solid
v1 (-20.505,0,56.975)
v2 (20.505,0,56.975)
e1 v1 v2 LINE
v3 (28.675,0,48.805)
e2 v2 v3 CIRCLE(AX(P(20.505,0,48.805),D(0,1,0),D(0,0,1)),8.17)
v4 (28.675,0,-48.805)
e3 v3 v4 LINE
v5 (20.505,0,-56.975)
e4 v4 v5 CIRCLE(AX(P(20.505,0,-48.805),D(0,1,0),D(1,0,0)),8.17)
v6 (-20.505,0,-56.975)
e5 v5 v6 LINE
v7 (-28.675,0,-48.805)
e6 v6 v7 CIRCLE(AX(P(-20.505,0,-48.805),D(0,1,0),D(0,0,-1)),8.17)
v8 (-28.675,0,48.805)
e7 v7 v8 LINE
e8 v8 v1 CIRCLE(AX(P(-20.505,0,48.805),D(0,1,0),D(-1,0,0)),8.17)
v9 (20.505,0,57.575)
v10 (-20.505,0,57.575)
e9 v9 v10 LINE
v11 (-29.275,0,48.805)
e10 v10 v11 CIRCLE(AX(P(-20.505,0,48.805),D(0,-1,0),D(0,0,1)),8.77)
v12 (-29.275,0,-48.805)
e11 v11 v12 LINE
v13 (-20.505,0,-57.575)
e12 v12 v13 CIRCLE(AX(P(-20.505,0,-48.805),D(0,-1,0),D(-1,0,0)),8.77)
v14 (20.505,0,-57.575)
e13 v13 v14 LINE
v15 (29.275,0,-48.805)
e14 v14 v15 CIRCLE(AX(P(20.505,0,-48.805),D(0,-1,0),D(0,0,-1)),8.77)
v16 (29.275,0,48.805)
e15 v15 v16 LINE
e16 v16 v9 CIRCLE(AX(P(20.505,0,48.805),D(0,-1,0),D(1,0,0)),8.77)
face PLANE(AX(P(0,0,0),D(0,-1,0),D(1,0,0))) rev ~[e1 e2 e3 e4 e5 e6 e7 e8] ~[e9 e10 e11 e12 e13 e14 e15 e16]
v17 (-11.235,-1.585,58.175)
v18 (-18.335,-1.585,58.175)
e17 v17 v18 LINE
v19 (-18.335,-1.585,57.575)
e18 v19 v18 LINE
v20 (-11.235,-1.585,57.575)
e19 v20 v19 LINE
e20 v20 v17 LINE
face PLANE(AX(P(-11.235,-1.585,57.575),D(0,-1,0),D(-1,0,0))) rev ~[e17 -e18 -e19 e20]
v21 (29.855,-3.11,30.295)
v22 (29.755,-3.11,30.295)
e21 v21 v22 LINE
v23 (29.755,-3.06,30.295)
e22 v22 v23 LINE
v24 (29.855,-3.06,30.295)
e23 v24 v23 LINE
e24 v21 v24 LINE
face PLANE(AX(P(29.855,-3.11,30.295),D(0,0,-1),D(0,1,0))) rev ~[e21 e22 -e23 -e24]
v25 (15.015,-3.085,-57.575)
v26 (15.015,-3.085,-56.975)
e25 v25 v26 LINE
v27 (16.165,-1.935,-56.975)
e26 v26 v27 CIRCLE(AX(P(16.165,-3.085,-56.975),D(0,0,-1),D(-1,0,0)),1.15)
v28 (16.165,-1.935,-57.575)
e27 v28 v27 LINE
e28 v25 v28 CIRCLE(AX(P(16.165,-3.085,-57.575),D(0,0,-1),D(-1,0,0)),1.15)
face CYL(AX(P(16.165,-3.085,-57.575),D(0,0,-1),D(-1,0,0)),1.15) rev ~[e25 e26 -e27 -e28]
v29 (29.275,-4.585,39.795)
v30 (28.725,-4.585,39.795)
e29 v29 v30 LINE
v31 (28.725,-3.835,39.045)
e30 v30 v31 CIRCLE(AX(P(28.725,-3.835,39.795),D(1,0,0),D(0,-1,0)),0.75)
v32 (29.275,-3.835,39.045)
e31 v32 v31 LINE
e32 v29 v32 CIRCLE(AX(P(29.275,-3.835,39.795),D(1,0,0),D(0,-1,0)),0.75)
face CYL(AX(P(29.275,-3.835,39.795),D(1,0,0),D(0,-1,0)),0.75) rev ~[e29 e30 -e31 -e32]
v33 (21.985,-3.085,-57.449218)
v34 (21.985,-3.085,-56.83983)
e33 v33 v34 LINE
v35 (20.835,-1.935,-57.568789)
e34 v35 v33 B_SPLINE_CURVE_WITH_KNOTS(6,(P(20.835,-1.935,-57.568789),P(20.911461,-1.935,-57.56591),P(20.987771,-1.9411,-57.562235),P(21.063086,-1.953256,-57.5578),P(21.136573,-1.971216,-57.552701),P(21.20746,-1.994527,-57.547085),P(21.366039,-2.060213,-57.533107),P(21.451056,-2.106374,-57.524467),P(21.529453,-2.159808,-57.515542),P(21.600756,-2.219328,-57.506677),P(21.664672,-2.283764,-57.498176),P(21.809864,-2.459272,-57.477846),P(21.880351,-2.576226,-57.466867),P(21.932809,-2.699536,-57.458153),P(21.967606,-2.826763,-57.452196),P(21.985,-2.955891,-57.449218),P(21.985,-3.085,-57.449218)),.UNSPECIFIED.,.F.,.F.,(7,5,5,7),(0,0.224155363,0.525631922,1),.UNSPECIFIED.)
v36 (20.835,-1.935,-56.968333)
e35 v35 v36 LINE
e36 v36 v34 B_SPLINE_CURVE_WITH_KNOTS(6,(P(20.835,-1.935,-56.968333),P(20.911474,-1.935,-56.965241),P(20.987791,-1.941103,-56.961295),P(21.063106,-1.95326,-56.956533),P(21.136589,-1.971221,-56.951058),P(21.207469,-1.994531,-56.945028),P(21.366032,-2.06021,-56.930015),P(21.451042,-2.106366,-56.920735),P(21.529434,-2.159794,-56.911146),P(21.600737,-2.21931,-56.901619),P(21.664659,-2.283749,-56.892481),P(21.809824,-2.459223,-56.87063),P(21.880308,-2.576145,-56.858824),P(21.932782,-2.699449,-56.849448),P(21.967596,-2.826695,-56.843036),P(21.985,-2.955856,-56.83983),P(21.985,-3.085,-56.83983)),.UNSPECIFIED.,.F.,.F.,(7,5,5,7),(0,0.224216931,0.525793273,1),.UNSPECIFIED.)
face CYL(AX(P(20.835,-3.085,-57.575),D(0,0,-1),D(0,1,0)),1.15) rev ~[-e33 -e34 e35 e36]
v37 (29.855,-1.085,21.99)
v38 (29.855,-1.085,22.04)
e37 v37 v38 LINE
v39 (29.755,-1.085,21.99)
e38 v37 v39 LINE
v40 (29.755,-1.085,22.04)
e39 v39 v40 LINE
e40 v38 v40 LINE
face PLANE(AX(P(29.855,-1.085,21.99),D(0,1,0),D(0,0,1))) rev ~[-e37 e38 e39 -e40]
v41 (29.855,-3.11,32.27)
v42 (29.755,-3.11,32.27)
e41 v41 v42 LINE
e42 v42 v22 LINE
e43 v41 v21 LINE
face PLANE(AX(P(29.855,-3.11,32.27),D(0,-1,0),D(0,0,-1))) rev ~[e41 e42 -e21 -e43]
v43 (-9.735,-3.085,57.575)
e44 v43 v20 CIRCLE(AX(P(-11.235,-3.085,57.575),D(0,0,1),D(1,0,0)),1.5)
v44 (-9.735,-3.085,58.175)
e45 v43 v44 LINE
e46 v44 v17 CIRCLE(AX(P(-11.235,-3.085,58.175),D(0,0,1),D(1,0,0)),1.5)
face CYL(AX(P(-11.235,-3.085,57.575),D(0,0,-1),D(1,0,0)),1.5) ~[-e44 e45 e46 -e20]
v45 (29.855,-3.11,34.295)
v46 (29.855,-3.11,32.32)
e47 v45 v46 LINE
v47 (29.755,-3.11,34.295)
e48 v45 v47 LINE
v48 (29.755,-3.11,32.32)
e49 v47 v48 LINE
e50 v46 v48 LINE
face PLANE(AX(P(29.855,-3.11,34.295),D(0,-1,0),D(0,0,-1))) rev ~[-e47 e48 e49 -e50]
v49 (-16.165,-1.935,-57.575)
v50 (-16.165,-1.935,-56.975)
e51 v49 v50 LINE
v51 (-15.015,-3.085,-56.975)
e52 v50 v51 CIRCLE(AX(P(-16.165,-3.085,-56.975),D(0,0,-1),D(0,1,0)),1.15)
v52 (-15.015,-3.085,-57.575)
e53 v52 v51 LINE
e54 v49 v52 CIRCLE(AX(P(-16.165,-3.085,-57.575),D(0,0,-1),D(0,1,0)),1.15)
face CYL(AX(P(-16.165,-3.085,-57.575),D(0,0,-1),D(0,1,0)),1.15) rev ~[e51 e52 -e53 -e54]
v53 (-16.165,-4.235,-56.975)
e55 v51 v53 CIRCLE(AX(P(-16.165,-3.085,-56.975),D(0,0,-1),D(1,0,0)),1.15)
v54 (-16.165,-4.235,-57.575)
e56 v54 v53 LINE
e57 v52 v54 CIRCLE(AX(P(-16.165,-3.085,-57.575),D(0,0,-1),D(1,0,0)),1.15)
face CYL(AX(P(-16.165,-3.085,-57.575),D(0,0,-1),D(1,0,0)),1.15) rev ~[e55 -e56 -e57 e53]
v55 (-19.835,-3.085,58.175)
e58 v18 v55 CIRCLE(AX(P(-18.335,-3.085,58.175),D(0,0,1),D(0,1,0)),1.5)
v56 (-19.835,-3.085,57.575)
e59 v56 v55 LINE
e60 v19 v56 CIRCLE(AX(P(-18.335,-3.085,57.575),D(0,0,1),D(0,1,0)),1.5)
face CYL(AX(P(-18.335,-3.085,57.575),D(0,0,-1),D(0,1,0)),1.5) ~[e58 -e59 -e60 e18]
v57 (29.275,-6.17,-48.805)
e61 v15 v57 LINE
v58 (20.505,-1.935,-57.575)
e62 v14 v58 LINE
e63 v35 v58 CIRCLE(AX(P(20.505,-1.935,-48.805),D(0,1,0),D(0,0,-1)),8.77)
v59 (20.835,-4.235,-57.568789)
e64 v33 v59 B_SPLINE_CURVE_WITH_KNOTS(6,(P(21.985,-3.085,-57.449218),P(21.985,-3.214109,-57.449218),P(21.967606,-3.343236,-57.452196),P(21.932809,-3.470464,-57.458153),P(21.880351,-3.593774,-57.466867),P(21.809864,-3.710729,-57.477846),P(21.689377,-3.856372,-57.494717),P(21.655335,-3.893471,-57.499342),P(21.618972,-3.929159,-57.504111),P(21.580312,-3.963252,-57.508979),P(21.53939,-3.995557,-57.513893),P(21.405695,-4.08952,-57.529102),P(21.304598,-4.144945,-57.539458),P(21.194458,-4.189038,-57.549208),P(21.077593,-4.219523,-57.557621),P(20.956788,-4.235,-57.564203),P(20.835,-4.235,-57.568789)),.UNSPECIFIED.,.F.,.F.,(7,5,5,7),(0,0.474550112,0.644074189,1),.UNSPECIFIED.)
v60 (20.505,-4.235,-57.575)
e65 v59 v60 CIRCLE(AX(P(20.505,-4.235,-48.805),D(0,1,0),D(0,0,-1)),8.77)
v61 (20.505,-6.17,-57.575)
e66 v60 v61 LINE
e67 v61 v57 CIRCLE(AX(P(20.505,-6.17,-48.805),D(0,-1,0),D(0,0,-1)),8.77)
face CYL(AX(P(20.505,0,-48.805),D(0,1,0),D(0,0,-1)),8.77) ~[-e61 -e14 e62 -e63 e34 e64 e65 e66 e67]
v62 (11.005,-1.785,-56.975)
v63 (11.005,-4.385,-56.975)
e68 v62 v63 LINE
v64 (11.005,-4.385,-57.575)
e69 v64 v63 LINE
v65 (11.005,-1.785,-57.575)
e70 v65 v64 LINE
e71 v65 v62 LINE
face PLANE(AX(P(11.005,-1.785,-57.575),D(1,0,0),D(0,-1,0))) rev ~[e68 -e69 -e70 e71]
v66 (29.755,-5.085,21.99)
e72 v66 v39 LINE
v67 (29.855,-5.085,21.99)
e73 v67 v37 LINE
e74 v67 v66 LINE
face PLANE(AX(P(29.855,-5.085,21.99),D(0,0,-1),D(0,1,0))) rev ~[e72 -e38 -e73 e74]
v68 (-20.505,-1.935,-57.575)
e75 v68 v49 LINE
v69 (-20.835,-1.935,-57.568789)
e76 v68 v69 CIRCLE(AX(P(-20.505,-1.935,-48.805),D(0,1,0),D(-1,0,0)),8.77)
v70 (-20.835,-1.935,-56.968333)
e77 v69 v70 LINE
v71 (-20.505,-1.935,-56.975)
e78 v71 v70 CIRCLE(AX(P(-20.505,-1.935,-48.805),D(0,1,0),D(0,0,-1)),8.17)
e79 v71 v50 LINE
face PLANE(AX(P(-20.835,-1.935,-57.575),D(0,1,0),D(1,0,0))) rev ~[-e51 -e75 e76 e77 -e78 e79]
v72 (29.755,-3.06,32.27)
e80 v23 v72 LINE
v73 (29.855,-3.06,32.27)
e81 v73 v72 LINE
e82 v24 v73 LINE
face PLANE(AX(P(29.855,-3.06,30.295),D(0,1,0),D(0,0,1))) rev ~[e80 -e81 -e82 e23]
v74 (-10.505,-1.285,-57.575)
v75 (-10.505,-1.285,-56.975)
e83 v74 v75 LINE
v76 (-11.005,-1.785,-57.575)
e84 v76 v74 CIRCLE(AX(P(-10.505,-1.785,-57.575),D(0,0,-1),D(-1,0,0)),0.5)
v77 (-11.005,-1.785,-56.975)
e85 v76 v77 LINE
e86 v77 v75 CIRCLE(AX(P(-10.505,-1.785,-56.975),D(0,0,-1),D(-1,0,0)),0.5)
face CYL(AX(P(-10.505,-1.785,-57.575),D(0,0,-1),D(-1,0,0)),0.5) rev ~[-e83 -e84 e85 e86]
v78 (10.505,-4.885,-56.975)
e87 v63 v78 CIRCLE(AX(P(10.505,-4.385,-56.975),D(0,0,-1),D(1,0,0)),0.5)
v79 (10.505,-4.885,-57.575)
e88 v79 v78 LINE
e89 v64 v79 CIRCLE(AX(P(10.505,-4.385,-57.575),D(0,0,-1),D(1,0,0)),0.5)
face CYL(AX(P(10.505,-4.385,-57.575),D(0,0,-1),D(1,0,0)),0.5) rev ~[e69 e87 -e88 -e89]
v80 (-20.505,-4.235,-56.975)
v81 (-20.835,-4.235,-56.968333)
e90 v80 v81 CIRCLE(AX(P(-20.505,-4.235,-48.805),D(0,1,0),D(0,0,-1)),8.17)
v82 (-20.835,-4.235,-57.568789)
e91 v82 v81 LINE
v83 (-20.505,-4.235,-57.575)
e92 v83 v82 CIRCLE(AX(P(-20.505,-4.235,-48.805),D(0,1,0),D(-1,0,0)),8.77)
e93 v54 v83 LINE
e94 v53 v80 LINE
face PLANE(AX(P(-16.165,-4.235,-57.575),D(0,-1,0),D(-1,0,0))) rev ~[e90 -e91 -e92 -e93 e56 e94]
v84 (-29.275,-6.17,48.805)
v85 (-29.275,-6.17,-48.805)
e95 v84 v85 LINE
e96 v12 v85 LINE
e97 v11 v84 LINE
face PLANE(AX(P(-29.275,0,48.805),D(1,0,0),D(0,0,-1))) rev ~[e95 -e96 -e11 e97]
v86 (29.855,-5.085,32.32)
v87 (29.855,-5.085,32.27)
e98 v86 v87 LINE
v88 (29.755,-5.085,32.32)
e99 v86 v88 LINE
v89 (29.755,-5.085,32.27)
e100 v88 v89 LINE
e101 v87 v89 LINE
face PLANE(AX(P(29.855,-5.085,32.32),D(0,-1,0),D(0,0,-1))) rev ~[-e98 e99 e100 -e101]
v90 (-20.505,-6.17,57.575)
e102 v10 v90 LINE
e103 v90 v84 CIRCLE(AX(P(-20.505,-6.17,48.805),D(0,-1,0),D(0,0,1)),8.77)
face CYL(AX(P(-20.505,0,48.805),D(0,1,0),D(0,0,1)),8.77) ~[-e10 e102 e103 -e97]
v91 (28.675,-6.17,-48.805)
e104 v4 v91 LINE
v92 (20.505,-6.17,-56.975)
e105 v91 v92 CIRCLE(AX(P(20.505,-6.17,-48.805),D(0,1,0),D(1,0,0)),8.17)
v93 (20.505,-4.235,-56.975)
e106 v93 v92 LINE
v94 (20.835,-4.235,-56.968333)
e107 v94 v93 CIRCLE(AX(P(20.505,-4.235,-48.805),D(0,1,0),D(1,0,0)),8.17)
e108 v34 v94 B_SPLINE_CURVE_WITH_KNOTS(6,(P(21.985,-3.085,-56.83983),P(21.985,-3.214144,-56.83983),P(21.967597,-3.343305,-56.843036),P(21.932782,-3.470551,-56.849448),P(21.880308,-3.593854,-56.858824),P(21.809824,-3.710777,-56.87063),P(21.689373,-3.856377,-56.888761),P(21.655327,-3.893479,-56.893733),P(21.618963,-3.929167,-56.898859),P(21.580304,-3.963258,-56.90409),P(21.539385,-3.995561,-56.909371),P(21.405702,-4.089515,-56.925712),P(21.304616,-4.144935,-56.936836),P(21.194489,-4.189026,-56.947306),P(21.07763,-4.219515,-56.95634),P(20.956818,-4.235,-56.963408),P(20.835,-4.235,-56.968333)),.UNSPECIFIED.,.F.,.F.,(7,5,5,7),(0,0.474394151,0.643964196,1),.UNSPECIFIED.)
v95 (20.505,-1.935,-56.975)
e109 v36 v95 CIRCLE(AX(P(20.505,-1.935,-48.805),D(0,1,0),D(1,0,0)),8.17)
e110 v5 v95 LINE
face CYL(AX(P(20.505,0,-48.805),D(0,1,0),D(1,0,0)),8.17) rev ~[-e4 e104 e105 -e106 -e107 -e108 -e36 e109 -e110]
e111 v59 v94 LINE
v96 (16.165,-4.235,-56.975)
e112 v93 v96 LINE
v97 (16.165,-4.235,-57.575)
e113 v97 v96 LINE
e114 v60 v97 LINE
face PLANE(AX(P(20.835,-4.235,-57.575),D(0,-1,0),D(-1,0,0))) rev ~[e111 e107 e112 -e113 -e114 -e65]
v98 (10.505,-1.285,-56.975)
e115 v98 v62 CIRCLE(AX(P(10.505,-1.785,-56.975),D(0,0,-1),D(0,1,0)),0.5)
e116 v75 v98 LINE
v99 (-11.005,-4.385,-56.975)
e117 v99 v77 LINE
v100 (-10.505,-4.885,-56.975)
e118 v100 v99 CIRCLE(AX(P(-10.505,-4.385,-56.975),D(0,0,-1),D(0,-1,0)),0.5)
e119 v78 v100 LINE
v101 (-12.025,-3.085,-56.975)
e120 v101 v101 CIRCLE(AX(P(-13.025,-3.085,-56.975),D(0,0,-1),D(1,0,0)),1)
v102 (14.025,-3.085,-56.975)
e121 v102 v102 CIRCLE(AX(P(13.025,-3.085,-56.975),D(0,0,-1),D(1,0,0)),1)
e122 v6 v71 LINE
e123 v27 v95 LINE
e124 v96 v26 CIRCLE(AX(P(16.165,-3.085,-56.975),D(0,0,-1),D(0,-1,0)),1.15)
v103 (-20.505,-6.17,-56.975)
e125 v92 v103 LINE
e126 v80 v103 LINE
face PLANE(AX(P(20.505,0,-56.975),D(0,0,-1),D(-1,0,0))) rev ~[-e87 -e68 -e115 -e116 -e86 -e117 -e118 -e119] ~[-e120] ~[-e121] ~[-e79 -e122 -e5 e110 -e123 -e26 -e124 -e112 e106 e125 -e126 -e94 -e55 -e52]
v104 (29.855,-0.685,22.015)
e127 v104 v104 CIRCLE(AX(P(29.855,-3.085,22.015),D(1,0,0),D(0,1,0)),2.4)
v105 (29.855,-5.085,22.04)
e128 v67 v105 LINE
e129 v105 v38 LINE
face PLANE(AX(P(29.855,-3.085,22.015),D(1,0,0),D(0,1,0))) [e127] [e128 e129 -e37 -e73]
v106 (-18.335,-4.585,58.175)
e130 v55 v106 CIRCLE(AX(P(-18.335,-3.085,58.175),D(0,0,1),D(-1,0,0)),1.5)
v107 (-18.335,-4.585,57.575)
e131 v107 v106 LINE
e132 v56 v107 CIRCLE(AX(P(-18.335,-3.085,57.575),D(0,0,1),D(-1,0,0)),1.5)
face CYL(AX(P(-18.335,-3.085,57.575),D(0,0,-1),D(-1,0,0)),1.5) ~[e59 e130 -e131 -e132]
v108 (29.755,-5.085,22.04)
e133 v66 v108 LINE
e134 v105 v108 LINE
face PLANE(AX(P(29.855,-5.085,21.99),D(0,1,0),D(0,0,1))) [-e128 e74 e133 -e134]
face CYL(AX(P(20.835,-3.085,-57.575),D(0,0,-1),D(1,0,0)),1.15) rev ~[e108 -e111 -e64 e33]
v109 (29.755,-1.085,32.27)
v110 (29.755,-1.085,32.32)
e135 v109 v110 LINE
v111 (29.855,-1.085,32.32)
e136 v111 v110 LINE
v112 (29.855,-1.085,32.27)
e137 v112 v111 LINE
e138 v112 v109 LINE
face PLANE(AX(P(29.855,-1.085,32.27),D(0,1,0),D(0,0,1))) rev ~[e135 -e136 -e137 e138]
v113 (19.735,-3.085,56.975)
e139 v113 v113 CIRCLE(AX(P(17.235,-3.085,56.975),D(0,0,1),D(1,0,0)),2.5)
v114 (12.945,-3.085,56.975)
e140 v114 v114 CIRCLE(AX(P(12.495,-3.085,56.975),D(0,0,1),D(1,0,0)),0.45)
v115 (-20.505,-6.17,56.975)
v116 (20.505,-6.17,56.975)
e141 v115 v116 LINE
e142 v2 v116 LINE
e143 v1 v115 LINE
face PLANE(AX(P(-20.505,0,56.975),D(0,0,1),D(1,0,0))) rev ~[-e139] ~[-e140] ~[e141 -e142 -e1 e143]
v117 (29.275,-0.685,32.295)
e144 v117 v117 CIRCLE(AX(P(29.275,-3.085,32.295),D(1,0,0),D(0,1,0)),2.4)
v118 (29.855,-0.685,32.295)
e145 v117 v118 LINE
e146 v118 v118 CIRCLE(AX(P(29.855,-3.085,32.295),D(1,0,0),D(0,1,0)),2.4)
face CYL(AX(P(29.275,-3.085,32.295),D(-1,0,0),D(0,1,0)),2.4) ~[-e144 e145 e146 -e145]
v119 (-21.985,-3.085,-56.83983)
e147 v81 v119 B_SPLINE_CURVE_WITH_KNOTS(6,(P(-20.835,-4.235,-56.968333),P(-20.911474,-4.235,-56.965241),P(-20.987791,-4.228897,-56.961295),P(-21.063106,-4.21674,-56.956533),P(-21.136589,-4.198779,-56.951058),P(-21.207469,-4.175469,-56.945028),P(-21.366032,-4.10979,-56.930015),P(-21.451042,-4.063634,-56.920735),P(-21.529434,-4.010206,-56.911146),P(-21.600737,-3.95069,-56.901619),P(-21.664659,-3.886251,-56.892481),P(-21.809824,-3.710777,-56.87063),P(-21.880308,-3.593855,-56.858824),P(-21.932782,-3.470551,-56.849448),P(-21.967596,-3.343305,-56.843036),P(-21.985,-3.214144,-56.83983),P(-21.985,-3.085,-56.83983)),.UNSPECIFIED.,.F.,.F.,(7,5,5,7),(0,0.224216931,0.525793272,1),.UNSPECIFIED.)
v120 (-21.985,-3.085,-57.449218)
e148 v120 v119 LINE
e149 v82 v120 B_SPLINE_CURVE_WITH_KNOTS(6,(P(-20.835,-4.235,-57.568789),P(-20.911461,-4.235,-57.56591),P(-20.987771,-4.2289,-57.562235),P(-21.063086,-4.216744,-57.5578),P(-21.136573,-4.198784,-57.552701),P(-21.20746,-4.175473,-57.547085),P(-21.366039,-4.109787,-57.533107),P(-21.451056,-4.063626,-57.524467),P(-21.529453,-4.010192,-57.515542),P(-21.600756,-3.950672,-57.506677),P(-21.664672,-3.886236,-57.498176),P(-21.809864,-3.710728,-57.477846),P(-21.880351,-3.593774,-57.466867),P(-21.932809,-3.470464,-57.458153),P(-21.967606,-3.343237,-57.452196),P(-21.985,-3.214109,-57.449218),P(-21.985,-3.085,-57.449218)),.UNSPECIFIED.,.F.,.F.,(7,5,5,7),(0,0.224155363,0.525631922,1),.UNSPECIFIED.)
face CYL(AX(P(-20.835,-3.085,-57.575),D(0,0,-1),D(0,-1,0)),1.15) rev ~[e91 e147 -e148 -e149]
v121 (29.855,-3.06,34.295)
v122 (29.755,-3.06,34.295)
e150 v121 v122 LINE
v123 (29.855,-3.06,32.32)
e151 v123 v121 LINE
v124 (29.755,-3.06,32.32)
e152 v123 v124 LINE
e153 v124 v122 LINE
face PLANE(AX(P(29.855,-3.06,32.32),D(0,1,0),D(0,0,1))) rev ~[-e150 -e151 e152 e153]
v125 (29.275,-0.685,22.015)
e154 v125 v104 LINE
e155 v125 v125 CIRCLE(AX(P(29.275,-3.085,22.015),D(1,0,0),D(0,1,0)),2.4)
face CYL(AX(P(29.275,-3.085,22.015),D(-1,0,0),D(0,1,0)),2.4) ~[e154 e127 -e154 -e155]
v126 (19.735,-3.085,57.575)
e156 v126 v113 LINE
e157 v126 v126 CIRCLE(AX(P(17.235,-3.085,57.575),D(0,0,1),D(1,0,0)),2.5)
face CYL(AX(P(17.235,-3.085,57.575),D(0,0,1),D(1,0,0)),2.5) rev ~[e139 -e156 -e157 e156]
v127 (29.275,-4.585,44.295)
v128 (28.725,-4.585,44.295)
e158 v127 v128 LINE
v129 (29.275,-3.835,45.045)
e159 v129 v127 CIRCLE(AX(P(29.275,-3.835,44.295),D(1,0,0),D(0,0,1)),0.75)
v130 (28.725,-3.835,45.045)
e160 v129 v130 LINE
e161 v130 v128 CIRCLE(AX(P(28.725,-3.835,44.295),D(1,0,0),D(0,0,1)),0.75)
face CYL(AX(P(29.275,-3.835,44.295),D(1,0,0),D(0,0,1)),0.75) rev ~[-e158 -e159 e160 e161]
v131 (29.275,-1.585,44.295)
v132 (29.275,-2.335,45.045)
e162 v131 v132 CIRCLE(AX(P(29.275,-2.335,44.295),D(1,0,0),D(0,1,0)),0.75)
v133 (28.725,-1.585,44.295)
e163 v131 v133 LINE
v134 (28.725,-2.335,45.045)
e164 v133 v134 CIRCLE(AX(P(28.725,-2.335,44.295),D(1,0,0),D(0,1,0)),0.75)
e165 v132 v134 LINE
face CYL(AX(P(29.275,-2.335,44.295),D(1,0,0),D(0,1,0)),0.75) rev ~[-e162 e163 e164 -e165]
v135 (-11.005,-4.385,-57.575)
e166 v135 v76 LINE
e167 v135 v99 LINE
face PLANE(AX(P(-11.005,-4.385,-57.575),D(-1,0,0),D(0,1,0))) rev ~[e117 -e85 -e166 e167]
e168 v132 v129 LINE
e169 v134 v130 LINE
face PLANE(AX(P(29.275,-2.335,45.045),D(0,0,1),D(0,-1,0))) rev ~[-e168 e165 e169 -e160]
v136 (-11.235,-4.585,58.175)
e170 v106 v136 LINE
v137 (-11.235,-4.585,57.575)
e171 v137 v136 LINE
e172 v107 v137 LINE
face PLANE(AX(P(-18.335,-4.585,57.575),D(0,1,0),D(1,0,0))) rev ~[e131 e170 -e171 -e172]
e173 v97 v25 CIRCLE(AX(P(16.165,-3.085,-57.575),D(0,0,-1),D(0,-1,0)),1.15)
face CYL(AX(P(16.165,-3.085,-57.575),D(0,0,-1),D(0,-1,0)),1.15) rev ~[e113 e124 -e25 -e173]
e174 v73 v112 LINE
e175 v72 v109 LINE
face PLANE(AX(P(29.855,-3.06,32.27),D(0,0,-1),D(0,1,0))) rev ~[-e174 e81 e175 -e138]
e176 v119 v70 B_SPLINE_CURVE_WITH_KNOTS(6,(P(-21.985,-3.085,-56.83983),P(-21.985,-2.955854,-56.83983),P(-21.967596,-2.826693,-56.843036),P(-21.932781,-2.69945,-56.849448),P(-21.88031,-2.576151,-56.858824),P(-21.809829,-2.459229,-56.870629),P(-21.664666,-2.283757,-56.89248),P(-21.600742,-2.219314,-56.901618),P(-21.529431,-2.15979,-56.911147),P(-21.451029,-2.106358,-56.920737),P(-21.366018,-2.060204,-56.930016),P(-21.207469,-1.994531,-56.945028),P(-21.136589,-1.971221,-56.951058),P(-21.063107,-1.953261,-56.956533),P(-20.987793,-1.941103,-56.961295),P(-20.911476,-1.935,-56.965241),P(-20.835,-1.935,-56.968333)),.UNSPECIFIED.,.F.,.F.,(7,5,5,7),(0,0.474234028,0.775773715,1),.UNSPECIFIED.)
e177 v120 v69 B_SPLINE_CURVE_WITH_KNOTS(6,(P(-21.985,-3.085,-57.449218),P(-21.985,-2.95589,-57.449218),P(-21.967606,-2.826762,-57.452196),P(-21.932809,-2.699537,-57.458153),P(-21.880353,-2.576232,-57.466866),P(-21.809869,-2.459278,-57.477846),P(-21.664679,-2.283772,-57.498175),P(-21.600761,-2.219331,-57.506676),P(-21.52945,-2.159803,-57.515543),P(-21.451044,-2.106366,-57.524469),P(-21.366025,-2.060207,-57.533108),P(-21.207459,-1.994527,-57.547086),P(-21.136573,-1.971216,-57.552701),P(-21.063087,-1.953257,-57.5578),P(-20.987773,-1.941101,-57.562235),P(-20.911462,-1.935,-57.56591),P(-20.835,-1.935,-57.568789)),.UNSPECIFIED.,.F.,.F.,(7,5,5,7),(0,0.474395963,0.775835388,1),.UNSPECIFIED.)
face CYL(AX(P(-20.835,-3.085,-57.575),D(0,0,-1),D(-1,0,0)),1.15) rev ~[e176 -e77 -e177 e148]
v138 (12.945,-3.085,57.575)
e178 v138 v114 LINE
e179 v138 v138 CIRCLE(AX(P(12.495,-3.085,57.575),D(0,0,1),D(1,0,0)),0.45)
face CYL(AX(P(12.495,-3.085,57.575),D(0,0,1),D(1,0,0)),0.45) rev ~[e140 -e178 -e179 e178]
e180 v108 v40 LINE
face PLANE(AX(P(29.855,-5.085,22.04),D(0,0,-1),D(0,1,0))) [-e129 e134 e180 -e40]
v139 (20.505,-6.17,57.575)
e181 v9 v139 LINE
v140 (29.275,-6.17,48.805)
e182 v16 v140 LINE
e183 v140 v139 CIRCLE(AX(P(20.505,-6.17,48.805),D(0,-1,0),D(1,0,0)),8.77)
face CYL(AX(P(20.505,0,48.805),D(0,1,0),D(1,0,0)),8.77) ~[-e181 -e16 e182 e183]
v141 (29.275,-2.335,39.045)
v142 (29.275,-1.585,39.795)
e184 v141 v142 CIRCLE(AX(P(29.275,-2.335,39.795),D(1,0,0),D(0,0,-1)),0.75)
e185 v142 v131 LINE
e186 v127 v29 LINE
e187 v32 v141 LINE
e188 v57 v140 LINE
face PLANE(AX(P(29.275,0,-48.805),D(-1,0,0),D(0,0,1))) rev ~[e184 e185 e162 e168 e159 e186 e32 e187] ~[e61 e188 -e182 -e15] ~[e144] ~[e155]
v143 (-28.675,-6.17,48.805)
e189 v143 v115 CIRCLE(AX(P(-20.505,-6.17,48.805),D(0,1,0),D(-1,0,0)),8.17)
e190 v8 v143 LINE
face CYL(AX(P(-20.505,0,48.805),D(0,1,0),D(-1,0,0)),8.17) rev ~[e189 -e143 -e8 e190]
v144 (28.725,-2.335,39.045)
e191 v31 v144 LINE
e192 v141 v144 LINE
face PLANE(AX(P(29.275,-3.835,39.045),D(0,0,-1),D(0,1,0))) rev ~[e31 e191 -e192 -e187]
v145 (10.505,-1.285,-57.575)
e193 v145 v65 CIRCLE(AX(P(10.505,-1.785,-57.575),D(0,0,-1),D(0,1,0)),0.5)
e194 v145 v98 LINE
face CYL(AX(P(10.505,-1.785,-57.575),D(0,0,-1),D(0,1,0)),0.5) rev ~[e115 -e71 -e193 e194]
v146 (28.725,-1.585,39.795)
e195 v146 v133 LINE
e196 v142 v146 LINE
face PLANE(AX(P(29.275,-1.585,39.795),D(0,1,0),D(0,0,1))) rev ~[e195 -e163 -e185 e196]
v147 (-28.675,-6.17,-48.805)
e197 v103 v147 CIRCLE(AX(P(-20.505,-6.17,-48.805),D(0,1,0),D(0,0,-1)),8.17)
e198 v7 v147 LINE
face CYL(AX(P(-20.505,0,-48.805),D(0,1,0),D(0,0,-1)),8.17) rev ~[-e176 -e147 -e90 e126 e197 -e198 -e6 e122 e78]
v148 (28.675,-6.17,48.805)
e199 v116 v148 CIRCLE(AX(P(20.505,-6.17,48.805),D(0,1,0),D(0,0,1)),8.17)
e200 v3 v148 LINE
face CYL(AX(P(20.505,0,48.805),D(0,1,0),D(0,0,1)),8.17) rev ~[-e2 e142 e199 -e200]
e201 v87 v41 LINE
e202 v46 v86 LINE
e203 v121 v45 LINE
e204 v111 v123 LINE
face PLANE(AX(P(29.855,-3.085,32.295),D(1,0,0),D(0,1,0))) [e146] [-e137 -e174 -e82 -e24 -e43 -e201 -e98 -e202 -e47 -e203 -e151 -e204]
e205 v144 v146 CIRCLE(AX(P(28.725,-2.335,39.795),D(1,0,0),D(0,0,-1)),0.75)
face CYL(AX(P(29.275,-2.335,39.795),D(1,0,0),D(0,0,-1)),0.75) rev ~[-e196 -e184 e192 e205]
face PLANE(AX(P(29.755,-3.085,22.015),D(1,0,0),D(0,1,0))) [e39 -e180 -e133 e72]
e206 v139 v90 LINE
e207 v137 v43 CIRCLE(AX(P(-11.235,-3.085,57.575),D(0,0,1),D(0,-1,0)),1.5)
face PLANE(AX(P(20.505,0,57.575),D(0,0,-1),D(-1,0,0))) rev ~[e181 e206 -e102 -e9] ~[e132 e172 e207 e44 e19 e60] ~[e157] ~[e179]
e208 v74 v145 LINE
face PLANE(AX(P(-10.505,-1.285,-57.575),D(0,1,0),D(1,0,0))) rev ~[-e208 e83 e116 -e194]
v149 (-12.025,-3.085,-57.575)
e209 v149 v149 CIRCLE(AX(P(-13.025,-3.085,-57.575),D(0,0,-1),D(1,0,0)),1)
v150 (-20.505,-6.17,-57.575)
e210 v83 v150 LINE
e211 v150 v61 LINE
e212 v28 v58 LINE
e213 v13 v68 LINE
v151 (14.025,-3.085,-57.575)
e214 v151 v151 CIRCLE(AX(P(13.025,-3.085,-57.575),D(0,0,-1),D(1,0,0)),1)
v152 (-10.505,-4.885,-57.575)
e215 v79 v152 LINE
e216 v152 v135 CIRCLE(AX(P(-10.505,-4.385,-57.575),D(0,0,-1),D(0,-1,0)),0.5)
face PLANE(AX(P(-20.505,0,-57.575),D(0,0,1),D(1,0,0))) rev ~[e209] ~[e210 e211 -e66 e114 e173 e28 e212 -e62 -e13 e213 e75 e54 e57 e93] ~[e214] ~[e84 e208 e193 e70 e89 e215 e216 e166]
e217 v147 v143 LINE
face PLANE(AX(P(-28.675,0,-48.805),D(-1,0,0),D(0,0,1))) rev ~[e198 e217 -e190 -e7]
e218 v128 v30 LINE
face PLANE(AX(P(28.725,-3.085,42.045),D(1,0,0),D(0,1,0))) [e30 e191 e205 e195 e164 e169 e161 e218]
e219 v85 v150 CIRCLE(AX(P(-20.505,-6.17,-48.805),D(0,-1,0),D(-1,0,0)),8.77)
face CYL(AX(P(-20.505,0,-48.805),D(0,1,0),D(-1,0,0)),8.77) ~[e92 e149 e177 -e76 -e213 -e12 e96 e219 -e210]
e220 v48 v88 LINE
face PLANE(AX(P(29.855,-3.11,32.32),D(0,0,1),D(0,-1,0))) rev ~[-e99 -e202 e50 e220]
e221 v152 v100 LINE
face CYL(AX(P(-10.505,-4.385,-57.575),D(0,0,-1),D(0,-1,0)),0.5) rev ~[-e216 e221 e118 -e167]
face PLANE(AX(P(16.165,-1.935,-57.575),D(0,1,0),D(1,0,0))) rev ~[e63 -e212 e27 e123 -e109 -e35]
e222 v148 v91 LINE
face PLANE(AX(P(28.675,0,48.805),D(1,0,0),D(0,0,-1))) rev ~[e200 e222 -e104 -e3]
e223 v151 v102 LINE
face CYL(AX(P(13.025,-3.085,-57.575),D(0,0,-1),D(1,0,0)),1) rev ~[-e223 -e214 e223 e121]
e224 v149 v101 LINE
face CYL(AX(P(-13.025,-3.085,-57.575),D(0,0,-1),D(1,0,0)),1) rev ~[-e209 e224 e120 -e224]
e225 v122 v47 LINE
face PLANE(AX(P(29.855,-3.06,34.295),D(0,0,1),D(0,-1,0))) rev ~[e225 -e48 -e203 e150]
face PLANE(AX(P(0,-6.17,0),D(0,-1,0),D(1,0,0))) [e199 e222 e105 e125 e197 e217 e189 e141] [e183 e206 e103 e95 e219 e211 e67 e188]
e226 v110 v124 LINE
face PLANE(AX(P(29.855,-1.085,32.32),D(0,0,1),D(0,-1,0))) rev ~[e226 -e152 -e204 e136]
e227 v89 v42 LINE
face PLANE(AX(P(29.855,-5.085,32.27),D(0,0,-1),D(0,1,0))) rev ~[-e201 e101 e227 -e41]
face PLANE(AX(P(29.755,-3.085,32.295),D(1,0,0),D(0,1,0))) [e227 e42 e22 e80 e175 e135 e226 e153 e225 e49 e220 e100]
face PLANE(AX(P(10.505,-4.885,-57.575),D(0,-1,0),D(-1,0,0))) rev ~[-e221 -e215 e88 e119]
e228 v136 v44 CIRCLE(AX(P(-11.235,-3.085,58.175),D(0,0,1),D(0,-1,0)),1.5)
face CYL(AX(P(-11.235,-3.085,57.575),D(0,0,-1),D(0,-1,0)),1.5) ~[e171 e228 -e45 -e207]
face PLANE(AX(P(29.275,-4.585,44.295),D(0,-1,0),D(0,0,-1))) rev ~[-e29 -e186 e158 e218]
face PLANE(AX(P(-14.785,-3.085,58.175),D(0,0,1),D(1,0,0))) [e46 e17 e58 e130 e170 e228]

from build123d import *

# Parameters (mm, degrees)
F1_DEPTH  = 6.17
F3_DEPTH  = 0.55
F2_R      = 2.4
F4_DEPTH  = 0.58
F6_W      = 4
F6_H      = 0.05
F7_DEPTH  = 0.1
F8_R      = 2.5
F8_R_2    = 0.45
F9_DEPTH  = 0.6
F10_DEPTH = 0.6
F11_R     = 1
F12_DEPTH = 0.7361696724


with BuildPart() as f1:
    # F0 (on Front) → F1 (new body)
    with BuildSketch(Plane.XZ):
        with BuildLine():
            Line((-20.505, -57.575), (20.505, -57.575))
            ThreePointArc((20.505, -57.575), (26.706326471, -55.006326471), (29.275, -48.805))
            Line((29.275, -48.805), (29.275, 48.805))
            ThreePointArc((29.275, 48.805), (26.706326471, 55.006326471), (20.505, 57.575))
            Line((20.505, 57.575), (-20.505, 57.575))
            ThreePointArc((-20.505, 57.575), (-26.706326471, 55.006326471), (-29.275, 48.805))
            Line((-29.275, 48.805), (-29.275, -48.805))
            ThreePointArc((-29.275, -48.805), (-26.706326471, -55.006326471), (-20.505, -57.575))
        make_face()
        with BuildLine():
            ThreePointArc((28.675, -48.805), (26.2820624023, -54.5820624023), (20.505, -56.975))
            Line((20.505, -56.975), (-20.505, -56.975))
            ThreePointArc((-20.505, -56.975), (-26.2820624023, -54.5820624023), (-28.675, -48.805))
            Line((-28.675, -48.805), (-28.675, 48.805))
            ThreePointArc((-28.675, 48.805), (-26.2820624023, 54.5820624023), (-20.505, 56.975))
            Line((-20.505, 56.975), (20.505, 56.975))
            ThreePointArc((20.505, 56.975), (26.2820624023, 54.5820624023), (28.675, 48.805))
            Line((28.675, 48.805), (28.675, -48.805))
        make_face(mode=Mode.SUBTRACT)
    extrude(amount=F1_DEPTH)

    # F2 (on face) → F3 (cut)
    with BuildSketch(Plane.YZ.offset(29.275)):
        with BuildLine():
            Line((-2.335, 45.045), (-3.835, 45.045))
            ThreePointArc((-3.835, 45.045), (-4.3653300859, 44.8253300859), (-4.585, 44.295))
            Line((-4.585, 44.295), (-4.585, 39.795))
            ThreePointArc((-4.585, 39.795), (-4.3653300859, 39.2646699141), (-3.835, 39.045))
            Line((-3.835, 39.045), (-2.335, 39.045))
            ThreePointArc((-2.335, 39.045), (-1.8046699141, 39.2646699141), (-1.585, 39.795))
            Line((-1.585, 39.795), (-1.585, 44.295))
            ThreePointArc((-1.585, 44.295), (-1.8046699141, 44.8253300859), (-2.335, 45.045))
        make_face()
    extrude(amount=-F3_DEPTH, mode=Mode.SUBTRACT)

    # F2 (on face) → F4 (join)
    with BuildSketch(Plane.YZ.offset(29.275)):
        with Locations((-3.085, 32.295)):
            Circle(F2_R)
        with Locations((-3.085, 22.015)):
            Circle(F2_R)
    extrude(amount=F4_DEPTH)

    # F5 (on face) + F6 (on face) → F7 (cut)
    with BuildSketch(Plane.YZ.offset(29.855)):
        Polygon((-3.11, 32.27), (-3.11, 30.295), (-3.06, 30.295), (-3.06, 32.27), (-1.085, 32.27), (-1.085, 32.32), (-3.06, 32.32), (-3.06, 34.295), (-3.11, 34.295), (-3.11, 32.32), (-5.085, 32.32), (-5.085, 32.27), align=None)
    with BuildSketch(Plane.YZ.offset(29.855)):
        with Locations((-3.085, 22.015)):
            Rectangle(F6_W, F6_H)
    extrude(amount=-F7_DEPTH, mode=Mode.SUBTRACT)

    # F8 (on face) → F9 (cut)
    with BuildSketch(Plane.XY.offset(57.575)):
        with Locations((17.235, -3.085)):
            Circle(F8_R)
        with Locations((12.495, -3.085)):
            Circle(F8_R_2)
    extrude(amount=-F9_DEPTH, mode=Mode.SUBTRACT)

    # F8 (on face) → F10 (join)
    with BuildSketch(Plane.XY.offset(57.575)):
        with BuildLine():
            ThreePointArc((-19.835, -3.085), (-19.3956601718, -4.1456601718), (-18.335, -4.585))
            Line((-18.335, -4.585), (-11.235, -4.585))
            ThreePointArc((-11.235, -4.585), (-10.1743398282, -4.1456601718), (-9.735, -3.085))
            ThreePointArc((-9.735, -3.085), (-10.1743398282, -2.0243398282), (-11.235, -1.585))
            Line((-11.235, -1.585), (-18.335, -1.585))
            ThreePointArc((-18.335, -1.585), (-19.3956601718, -2.0243398282), (-19.835, -3.085))
        make_face()
    extrude(amount=F10_DEPTH)

    # F11 (on face) → F12 (cut, through all)
    with BuildSketch(Plane(origin=(0, 0, -57.575), x_dir=(1, 0, 0), z_dir=(0, 0, -1))):
        with BuildLine():
            Line((-10.505, 1.285), (10.505, 1.285))
            ThreePointArc((10.505, 1.285), (10.8585533906, 1.4314466094), (11.005, 1.785))
            Line((11.005, 1.785), (11.005, 4.385))
            ThreePointArc((11.005, 4.385), (10.8585533906, 4.7385533906), (10.505, 4.885))
            Line((10.505, 4.885), (-10.505, 4.885))
            ThreePointArc((-10.505, 4.885), (-10.8585533906, 4.7385533906), (-11.005, 4.385))
            Line((-11.005, 4.385), (-11.005, 1.785))
            ThreePointArc((-11.005, 1.785), (-10.8585533906, 1.4314466094), (-10.505, 1.285))
        make_face()
        with Locations((-13.025, 3.085)):
            Circle(F11_R)
        with Locations((13.025, 3.085)):
            Circle(F11_R)
        with BuildLine():
            Line((-20.835, 1.935), (-16.165, 1.935))
            ThreePointArc((-16.165, 1.935), (-15.3518272016, 2.2718272016), (-15.015, 3.085))
            ThreePointArc((-15.015, 3.085), (-15.3518272016, 3.8981727984), (-16.165, 4.235))
            Line((-16.165, 4.235), (-20.835, 4.235))
            ThreePointArc((-20.835, 4.235), (-21.6481727984, 3.8981727984), (-21.985, 3.085))
            ThreePointArc((-21.985, 3.085), (-21.6481727984, 2.2718272016), (-20.835, 1.935))
        make_face()
        with BuildLine():
            Line((16.165, 1.935), (20.835, 1.935))
            ThreePointArc((20.835, 1.935), (21.6481727984, 2.2718272016), (21.985, 3.085))
            ThreePointArc((21.985, 3.085), (21.6481727984, 3.8981727984), (20.835, 4.235))
            Line((20.835, 4.235), (16.165, 4.235))
            ThreePointArc((16.165, 4.235), (15.3518272016, 3.8981727984), (15.015, 3.085))
            ThreePointArc((15.015, 3.085), (15.3518272016, 2.2718272016), (16.165, 1.935))
        make_face()
    extrude(amount=-F12_DEPTH, mode=Mode.SUBTRACT)


solid = f1.part
